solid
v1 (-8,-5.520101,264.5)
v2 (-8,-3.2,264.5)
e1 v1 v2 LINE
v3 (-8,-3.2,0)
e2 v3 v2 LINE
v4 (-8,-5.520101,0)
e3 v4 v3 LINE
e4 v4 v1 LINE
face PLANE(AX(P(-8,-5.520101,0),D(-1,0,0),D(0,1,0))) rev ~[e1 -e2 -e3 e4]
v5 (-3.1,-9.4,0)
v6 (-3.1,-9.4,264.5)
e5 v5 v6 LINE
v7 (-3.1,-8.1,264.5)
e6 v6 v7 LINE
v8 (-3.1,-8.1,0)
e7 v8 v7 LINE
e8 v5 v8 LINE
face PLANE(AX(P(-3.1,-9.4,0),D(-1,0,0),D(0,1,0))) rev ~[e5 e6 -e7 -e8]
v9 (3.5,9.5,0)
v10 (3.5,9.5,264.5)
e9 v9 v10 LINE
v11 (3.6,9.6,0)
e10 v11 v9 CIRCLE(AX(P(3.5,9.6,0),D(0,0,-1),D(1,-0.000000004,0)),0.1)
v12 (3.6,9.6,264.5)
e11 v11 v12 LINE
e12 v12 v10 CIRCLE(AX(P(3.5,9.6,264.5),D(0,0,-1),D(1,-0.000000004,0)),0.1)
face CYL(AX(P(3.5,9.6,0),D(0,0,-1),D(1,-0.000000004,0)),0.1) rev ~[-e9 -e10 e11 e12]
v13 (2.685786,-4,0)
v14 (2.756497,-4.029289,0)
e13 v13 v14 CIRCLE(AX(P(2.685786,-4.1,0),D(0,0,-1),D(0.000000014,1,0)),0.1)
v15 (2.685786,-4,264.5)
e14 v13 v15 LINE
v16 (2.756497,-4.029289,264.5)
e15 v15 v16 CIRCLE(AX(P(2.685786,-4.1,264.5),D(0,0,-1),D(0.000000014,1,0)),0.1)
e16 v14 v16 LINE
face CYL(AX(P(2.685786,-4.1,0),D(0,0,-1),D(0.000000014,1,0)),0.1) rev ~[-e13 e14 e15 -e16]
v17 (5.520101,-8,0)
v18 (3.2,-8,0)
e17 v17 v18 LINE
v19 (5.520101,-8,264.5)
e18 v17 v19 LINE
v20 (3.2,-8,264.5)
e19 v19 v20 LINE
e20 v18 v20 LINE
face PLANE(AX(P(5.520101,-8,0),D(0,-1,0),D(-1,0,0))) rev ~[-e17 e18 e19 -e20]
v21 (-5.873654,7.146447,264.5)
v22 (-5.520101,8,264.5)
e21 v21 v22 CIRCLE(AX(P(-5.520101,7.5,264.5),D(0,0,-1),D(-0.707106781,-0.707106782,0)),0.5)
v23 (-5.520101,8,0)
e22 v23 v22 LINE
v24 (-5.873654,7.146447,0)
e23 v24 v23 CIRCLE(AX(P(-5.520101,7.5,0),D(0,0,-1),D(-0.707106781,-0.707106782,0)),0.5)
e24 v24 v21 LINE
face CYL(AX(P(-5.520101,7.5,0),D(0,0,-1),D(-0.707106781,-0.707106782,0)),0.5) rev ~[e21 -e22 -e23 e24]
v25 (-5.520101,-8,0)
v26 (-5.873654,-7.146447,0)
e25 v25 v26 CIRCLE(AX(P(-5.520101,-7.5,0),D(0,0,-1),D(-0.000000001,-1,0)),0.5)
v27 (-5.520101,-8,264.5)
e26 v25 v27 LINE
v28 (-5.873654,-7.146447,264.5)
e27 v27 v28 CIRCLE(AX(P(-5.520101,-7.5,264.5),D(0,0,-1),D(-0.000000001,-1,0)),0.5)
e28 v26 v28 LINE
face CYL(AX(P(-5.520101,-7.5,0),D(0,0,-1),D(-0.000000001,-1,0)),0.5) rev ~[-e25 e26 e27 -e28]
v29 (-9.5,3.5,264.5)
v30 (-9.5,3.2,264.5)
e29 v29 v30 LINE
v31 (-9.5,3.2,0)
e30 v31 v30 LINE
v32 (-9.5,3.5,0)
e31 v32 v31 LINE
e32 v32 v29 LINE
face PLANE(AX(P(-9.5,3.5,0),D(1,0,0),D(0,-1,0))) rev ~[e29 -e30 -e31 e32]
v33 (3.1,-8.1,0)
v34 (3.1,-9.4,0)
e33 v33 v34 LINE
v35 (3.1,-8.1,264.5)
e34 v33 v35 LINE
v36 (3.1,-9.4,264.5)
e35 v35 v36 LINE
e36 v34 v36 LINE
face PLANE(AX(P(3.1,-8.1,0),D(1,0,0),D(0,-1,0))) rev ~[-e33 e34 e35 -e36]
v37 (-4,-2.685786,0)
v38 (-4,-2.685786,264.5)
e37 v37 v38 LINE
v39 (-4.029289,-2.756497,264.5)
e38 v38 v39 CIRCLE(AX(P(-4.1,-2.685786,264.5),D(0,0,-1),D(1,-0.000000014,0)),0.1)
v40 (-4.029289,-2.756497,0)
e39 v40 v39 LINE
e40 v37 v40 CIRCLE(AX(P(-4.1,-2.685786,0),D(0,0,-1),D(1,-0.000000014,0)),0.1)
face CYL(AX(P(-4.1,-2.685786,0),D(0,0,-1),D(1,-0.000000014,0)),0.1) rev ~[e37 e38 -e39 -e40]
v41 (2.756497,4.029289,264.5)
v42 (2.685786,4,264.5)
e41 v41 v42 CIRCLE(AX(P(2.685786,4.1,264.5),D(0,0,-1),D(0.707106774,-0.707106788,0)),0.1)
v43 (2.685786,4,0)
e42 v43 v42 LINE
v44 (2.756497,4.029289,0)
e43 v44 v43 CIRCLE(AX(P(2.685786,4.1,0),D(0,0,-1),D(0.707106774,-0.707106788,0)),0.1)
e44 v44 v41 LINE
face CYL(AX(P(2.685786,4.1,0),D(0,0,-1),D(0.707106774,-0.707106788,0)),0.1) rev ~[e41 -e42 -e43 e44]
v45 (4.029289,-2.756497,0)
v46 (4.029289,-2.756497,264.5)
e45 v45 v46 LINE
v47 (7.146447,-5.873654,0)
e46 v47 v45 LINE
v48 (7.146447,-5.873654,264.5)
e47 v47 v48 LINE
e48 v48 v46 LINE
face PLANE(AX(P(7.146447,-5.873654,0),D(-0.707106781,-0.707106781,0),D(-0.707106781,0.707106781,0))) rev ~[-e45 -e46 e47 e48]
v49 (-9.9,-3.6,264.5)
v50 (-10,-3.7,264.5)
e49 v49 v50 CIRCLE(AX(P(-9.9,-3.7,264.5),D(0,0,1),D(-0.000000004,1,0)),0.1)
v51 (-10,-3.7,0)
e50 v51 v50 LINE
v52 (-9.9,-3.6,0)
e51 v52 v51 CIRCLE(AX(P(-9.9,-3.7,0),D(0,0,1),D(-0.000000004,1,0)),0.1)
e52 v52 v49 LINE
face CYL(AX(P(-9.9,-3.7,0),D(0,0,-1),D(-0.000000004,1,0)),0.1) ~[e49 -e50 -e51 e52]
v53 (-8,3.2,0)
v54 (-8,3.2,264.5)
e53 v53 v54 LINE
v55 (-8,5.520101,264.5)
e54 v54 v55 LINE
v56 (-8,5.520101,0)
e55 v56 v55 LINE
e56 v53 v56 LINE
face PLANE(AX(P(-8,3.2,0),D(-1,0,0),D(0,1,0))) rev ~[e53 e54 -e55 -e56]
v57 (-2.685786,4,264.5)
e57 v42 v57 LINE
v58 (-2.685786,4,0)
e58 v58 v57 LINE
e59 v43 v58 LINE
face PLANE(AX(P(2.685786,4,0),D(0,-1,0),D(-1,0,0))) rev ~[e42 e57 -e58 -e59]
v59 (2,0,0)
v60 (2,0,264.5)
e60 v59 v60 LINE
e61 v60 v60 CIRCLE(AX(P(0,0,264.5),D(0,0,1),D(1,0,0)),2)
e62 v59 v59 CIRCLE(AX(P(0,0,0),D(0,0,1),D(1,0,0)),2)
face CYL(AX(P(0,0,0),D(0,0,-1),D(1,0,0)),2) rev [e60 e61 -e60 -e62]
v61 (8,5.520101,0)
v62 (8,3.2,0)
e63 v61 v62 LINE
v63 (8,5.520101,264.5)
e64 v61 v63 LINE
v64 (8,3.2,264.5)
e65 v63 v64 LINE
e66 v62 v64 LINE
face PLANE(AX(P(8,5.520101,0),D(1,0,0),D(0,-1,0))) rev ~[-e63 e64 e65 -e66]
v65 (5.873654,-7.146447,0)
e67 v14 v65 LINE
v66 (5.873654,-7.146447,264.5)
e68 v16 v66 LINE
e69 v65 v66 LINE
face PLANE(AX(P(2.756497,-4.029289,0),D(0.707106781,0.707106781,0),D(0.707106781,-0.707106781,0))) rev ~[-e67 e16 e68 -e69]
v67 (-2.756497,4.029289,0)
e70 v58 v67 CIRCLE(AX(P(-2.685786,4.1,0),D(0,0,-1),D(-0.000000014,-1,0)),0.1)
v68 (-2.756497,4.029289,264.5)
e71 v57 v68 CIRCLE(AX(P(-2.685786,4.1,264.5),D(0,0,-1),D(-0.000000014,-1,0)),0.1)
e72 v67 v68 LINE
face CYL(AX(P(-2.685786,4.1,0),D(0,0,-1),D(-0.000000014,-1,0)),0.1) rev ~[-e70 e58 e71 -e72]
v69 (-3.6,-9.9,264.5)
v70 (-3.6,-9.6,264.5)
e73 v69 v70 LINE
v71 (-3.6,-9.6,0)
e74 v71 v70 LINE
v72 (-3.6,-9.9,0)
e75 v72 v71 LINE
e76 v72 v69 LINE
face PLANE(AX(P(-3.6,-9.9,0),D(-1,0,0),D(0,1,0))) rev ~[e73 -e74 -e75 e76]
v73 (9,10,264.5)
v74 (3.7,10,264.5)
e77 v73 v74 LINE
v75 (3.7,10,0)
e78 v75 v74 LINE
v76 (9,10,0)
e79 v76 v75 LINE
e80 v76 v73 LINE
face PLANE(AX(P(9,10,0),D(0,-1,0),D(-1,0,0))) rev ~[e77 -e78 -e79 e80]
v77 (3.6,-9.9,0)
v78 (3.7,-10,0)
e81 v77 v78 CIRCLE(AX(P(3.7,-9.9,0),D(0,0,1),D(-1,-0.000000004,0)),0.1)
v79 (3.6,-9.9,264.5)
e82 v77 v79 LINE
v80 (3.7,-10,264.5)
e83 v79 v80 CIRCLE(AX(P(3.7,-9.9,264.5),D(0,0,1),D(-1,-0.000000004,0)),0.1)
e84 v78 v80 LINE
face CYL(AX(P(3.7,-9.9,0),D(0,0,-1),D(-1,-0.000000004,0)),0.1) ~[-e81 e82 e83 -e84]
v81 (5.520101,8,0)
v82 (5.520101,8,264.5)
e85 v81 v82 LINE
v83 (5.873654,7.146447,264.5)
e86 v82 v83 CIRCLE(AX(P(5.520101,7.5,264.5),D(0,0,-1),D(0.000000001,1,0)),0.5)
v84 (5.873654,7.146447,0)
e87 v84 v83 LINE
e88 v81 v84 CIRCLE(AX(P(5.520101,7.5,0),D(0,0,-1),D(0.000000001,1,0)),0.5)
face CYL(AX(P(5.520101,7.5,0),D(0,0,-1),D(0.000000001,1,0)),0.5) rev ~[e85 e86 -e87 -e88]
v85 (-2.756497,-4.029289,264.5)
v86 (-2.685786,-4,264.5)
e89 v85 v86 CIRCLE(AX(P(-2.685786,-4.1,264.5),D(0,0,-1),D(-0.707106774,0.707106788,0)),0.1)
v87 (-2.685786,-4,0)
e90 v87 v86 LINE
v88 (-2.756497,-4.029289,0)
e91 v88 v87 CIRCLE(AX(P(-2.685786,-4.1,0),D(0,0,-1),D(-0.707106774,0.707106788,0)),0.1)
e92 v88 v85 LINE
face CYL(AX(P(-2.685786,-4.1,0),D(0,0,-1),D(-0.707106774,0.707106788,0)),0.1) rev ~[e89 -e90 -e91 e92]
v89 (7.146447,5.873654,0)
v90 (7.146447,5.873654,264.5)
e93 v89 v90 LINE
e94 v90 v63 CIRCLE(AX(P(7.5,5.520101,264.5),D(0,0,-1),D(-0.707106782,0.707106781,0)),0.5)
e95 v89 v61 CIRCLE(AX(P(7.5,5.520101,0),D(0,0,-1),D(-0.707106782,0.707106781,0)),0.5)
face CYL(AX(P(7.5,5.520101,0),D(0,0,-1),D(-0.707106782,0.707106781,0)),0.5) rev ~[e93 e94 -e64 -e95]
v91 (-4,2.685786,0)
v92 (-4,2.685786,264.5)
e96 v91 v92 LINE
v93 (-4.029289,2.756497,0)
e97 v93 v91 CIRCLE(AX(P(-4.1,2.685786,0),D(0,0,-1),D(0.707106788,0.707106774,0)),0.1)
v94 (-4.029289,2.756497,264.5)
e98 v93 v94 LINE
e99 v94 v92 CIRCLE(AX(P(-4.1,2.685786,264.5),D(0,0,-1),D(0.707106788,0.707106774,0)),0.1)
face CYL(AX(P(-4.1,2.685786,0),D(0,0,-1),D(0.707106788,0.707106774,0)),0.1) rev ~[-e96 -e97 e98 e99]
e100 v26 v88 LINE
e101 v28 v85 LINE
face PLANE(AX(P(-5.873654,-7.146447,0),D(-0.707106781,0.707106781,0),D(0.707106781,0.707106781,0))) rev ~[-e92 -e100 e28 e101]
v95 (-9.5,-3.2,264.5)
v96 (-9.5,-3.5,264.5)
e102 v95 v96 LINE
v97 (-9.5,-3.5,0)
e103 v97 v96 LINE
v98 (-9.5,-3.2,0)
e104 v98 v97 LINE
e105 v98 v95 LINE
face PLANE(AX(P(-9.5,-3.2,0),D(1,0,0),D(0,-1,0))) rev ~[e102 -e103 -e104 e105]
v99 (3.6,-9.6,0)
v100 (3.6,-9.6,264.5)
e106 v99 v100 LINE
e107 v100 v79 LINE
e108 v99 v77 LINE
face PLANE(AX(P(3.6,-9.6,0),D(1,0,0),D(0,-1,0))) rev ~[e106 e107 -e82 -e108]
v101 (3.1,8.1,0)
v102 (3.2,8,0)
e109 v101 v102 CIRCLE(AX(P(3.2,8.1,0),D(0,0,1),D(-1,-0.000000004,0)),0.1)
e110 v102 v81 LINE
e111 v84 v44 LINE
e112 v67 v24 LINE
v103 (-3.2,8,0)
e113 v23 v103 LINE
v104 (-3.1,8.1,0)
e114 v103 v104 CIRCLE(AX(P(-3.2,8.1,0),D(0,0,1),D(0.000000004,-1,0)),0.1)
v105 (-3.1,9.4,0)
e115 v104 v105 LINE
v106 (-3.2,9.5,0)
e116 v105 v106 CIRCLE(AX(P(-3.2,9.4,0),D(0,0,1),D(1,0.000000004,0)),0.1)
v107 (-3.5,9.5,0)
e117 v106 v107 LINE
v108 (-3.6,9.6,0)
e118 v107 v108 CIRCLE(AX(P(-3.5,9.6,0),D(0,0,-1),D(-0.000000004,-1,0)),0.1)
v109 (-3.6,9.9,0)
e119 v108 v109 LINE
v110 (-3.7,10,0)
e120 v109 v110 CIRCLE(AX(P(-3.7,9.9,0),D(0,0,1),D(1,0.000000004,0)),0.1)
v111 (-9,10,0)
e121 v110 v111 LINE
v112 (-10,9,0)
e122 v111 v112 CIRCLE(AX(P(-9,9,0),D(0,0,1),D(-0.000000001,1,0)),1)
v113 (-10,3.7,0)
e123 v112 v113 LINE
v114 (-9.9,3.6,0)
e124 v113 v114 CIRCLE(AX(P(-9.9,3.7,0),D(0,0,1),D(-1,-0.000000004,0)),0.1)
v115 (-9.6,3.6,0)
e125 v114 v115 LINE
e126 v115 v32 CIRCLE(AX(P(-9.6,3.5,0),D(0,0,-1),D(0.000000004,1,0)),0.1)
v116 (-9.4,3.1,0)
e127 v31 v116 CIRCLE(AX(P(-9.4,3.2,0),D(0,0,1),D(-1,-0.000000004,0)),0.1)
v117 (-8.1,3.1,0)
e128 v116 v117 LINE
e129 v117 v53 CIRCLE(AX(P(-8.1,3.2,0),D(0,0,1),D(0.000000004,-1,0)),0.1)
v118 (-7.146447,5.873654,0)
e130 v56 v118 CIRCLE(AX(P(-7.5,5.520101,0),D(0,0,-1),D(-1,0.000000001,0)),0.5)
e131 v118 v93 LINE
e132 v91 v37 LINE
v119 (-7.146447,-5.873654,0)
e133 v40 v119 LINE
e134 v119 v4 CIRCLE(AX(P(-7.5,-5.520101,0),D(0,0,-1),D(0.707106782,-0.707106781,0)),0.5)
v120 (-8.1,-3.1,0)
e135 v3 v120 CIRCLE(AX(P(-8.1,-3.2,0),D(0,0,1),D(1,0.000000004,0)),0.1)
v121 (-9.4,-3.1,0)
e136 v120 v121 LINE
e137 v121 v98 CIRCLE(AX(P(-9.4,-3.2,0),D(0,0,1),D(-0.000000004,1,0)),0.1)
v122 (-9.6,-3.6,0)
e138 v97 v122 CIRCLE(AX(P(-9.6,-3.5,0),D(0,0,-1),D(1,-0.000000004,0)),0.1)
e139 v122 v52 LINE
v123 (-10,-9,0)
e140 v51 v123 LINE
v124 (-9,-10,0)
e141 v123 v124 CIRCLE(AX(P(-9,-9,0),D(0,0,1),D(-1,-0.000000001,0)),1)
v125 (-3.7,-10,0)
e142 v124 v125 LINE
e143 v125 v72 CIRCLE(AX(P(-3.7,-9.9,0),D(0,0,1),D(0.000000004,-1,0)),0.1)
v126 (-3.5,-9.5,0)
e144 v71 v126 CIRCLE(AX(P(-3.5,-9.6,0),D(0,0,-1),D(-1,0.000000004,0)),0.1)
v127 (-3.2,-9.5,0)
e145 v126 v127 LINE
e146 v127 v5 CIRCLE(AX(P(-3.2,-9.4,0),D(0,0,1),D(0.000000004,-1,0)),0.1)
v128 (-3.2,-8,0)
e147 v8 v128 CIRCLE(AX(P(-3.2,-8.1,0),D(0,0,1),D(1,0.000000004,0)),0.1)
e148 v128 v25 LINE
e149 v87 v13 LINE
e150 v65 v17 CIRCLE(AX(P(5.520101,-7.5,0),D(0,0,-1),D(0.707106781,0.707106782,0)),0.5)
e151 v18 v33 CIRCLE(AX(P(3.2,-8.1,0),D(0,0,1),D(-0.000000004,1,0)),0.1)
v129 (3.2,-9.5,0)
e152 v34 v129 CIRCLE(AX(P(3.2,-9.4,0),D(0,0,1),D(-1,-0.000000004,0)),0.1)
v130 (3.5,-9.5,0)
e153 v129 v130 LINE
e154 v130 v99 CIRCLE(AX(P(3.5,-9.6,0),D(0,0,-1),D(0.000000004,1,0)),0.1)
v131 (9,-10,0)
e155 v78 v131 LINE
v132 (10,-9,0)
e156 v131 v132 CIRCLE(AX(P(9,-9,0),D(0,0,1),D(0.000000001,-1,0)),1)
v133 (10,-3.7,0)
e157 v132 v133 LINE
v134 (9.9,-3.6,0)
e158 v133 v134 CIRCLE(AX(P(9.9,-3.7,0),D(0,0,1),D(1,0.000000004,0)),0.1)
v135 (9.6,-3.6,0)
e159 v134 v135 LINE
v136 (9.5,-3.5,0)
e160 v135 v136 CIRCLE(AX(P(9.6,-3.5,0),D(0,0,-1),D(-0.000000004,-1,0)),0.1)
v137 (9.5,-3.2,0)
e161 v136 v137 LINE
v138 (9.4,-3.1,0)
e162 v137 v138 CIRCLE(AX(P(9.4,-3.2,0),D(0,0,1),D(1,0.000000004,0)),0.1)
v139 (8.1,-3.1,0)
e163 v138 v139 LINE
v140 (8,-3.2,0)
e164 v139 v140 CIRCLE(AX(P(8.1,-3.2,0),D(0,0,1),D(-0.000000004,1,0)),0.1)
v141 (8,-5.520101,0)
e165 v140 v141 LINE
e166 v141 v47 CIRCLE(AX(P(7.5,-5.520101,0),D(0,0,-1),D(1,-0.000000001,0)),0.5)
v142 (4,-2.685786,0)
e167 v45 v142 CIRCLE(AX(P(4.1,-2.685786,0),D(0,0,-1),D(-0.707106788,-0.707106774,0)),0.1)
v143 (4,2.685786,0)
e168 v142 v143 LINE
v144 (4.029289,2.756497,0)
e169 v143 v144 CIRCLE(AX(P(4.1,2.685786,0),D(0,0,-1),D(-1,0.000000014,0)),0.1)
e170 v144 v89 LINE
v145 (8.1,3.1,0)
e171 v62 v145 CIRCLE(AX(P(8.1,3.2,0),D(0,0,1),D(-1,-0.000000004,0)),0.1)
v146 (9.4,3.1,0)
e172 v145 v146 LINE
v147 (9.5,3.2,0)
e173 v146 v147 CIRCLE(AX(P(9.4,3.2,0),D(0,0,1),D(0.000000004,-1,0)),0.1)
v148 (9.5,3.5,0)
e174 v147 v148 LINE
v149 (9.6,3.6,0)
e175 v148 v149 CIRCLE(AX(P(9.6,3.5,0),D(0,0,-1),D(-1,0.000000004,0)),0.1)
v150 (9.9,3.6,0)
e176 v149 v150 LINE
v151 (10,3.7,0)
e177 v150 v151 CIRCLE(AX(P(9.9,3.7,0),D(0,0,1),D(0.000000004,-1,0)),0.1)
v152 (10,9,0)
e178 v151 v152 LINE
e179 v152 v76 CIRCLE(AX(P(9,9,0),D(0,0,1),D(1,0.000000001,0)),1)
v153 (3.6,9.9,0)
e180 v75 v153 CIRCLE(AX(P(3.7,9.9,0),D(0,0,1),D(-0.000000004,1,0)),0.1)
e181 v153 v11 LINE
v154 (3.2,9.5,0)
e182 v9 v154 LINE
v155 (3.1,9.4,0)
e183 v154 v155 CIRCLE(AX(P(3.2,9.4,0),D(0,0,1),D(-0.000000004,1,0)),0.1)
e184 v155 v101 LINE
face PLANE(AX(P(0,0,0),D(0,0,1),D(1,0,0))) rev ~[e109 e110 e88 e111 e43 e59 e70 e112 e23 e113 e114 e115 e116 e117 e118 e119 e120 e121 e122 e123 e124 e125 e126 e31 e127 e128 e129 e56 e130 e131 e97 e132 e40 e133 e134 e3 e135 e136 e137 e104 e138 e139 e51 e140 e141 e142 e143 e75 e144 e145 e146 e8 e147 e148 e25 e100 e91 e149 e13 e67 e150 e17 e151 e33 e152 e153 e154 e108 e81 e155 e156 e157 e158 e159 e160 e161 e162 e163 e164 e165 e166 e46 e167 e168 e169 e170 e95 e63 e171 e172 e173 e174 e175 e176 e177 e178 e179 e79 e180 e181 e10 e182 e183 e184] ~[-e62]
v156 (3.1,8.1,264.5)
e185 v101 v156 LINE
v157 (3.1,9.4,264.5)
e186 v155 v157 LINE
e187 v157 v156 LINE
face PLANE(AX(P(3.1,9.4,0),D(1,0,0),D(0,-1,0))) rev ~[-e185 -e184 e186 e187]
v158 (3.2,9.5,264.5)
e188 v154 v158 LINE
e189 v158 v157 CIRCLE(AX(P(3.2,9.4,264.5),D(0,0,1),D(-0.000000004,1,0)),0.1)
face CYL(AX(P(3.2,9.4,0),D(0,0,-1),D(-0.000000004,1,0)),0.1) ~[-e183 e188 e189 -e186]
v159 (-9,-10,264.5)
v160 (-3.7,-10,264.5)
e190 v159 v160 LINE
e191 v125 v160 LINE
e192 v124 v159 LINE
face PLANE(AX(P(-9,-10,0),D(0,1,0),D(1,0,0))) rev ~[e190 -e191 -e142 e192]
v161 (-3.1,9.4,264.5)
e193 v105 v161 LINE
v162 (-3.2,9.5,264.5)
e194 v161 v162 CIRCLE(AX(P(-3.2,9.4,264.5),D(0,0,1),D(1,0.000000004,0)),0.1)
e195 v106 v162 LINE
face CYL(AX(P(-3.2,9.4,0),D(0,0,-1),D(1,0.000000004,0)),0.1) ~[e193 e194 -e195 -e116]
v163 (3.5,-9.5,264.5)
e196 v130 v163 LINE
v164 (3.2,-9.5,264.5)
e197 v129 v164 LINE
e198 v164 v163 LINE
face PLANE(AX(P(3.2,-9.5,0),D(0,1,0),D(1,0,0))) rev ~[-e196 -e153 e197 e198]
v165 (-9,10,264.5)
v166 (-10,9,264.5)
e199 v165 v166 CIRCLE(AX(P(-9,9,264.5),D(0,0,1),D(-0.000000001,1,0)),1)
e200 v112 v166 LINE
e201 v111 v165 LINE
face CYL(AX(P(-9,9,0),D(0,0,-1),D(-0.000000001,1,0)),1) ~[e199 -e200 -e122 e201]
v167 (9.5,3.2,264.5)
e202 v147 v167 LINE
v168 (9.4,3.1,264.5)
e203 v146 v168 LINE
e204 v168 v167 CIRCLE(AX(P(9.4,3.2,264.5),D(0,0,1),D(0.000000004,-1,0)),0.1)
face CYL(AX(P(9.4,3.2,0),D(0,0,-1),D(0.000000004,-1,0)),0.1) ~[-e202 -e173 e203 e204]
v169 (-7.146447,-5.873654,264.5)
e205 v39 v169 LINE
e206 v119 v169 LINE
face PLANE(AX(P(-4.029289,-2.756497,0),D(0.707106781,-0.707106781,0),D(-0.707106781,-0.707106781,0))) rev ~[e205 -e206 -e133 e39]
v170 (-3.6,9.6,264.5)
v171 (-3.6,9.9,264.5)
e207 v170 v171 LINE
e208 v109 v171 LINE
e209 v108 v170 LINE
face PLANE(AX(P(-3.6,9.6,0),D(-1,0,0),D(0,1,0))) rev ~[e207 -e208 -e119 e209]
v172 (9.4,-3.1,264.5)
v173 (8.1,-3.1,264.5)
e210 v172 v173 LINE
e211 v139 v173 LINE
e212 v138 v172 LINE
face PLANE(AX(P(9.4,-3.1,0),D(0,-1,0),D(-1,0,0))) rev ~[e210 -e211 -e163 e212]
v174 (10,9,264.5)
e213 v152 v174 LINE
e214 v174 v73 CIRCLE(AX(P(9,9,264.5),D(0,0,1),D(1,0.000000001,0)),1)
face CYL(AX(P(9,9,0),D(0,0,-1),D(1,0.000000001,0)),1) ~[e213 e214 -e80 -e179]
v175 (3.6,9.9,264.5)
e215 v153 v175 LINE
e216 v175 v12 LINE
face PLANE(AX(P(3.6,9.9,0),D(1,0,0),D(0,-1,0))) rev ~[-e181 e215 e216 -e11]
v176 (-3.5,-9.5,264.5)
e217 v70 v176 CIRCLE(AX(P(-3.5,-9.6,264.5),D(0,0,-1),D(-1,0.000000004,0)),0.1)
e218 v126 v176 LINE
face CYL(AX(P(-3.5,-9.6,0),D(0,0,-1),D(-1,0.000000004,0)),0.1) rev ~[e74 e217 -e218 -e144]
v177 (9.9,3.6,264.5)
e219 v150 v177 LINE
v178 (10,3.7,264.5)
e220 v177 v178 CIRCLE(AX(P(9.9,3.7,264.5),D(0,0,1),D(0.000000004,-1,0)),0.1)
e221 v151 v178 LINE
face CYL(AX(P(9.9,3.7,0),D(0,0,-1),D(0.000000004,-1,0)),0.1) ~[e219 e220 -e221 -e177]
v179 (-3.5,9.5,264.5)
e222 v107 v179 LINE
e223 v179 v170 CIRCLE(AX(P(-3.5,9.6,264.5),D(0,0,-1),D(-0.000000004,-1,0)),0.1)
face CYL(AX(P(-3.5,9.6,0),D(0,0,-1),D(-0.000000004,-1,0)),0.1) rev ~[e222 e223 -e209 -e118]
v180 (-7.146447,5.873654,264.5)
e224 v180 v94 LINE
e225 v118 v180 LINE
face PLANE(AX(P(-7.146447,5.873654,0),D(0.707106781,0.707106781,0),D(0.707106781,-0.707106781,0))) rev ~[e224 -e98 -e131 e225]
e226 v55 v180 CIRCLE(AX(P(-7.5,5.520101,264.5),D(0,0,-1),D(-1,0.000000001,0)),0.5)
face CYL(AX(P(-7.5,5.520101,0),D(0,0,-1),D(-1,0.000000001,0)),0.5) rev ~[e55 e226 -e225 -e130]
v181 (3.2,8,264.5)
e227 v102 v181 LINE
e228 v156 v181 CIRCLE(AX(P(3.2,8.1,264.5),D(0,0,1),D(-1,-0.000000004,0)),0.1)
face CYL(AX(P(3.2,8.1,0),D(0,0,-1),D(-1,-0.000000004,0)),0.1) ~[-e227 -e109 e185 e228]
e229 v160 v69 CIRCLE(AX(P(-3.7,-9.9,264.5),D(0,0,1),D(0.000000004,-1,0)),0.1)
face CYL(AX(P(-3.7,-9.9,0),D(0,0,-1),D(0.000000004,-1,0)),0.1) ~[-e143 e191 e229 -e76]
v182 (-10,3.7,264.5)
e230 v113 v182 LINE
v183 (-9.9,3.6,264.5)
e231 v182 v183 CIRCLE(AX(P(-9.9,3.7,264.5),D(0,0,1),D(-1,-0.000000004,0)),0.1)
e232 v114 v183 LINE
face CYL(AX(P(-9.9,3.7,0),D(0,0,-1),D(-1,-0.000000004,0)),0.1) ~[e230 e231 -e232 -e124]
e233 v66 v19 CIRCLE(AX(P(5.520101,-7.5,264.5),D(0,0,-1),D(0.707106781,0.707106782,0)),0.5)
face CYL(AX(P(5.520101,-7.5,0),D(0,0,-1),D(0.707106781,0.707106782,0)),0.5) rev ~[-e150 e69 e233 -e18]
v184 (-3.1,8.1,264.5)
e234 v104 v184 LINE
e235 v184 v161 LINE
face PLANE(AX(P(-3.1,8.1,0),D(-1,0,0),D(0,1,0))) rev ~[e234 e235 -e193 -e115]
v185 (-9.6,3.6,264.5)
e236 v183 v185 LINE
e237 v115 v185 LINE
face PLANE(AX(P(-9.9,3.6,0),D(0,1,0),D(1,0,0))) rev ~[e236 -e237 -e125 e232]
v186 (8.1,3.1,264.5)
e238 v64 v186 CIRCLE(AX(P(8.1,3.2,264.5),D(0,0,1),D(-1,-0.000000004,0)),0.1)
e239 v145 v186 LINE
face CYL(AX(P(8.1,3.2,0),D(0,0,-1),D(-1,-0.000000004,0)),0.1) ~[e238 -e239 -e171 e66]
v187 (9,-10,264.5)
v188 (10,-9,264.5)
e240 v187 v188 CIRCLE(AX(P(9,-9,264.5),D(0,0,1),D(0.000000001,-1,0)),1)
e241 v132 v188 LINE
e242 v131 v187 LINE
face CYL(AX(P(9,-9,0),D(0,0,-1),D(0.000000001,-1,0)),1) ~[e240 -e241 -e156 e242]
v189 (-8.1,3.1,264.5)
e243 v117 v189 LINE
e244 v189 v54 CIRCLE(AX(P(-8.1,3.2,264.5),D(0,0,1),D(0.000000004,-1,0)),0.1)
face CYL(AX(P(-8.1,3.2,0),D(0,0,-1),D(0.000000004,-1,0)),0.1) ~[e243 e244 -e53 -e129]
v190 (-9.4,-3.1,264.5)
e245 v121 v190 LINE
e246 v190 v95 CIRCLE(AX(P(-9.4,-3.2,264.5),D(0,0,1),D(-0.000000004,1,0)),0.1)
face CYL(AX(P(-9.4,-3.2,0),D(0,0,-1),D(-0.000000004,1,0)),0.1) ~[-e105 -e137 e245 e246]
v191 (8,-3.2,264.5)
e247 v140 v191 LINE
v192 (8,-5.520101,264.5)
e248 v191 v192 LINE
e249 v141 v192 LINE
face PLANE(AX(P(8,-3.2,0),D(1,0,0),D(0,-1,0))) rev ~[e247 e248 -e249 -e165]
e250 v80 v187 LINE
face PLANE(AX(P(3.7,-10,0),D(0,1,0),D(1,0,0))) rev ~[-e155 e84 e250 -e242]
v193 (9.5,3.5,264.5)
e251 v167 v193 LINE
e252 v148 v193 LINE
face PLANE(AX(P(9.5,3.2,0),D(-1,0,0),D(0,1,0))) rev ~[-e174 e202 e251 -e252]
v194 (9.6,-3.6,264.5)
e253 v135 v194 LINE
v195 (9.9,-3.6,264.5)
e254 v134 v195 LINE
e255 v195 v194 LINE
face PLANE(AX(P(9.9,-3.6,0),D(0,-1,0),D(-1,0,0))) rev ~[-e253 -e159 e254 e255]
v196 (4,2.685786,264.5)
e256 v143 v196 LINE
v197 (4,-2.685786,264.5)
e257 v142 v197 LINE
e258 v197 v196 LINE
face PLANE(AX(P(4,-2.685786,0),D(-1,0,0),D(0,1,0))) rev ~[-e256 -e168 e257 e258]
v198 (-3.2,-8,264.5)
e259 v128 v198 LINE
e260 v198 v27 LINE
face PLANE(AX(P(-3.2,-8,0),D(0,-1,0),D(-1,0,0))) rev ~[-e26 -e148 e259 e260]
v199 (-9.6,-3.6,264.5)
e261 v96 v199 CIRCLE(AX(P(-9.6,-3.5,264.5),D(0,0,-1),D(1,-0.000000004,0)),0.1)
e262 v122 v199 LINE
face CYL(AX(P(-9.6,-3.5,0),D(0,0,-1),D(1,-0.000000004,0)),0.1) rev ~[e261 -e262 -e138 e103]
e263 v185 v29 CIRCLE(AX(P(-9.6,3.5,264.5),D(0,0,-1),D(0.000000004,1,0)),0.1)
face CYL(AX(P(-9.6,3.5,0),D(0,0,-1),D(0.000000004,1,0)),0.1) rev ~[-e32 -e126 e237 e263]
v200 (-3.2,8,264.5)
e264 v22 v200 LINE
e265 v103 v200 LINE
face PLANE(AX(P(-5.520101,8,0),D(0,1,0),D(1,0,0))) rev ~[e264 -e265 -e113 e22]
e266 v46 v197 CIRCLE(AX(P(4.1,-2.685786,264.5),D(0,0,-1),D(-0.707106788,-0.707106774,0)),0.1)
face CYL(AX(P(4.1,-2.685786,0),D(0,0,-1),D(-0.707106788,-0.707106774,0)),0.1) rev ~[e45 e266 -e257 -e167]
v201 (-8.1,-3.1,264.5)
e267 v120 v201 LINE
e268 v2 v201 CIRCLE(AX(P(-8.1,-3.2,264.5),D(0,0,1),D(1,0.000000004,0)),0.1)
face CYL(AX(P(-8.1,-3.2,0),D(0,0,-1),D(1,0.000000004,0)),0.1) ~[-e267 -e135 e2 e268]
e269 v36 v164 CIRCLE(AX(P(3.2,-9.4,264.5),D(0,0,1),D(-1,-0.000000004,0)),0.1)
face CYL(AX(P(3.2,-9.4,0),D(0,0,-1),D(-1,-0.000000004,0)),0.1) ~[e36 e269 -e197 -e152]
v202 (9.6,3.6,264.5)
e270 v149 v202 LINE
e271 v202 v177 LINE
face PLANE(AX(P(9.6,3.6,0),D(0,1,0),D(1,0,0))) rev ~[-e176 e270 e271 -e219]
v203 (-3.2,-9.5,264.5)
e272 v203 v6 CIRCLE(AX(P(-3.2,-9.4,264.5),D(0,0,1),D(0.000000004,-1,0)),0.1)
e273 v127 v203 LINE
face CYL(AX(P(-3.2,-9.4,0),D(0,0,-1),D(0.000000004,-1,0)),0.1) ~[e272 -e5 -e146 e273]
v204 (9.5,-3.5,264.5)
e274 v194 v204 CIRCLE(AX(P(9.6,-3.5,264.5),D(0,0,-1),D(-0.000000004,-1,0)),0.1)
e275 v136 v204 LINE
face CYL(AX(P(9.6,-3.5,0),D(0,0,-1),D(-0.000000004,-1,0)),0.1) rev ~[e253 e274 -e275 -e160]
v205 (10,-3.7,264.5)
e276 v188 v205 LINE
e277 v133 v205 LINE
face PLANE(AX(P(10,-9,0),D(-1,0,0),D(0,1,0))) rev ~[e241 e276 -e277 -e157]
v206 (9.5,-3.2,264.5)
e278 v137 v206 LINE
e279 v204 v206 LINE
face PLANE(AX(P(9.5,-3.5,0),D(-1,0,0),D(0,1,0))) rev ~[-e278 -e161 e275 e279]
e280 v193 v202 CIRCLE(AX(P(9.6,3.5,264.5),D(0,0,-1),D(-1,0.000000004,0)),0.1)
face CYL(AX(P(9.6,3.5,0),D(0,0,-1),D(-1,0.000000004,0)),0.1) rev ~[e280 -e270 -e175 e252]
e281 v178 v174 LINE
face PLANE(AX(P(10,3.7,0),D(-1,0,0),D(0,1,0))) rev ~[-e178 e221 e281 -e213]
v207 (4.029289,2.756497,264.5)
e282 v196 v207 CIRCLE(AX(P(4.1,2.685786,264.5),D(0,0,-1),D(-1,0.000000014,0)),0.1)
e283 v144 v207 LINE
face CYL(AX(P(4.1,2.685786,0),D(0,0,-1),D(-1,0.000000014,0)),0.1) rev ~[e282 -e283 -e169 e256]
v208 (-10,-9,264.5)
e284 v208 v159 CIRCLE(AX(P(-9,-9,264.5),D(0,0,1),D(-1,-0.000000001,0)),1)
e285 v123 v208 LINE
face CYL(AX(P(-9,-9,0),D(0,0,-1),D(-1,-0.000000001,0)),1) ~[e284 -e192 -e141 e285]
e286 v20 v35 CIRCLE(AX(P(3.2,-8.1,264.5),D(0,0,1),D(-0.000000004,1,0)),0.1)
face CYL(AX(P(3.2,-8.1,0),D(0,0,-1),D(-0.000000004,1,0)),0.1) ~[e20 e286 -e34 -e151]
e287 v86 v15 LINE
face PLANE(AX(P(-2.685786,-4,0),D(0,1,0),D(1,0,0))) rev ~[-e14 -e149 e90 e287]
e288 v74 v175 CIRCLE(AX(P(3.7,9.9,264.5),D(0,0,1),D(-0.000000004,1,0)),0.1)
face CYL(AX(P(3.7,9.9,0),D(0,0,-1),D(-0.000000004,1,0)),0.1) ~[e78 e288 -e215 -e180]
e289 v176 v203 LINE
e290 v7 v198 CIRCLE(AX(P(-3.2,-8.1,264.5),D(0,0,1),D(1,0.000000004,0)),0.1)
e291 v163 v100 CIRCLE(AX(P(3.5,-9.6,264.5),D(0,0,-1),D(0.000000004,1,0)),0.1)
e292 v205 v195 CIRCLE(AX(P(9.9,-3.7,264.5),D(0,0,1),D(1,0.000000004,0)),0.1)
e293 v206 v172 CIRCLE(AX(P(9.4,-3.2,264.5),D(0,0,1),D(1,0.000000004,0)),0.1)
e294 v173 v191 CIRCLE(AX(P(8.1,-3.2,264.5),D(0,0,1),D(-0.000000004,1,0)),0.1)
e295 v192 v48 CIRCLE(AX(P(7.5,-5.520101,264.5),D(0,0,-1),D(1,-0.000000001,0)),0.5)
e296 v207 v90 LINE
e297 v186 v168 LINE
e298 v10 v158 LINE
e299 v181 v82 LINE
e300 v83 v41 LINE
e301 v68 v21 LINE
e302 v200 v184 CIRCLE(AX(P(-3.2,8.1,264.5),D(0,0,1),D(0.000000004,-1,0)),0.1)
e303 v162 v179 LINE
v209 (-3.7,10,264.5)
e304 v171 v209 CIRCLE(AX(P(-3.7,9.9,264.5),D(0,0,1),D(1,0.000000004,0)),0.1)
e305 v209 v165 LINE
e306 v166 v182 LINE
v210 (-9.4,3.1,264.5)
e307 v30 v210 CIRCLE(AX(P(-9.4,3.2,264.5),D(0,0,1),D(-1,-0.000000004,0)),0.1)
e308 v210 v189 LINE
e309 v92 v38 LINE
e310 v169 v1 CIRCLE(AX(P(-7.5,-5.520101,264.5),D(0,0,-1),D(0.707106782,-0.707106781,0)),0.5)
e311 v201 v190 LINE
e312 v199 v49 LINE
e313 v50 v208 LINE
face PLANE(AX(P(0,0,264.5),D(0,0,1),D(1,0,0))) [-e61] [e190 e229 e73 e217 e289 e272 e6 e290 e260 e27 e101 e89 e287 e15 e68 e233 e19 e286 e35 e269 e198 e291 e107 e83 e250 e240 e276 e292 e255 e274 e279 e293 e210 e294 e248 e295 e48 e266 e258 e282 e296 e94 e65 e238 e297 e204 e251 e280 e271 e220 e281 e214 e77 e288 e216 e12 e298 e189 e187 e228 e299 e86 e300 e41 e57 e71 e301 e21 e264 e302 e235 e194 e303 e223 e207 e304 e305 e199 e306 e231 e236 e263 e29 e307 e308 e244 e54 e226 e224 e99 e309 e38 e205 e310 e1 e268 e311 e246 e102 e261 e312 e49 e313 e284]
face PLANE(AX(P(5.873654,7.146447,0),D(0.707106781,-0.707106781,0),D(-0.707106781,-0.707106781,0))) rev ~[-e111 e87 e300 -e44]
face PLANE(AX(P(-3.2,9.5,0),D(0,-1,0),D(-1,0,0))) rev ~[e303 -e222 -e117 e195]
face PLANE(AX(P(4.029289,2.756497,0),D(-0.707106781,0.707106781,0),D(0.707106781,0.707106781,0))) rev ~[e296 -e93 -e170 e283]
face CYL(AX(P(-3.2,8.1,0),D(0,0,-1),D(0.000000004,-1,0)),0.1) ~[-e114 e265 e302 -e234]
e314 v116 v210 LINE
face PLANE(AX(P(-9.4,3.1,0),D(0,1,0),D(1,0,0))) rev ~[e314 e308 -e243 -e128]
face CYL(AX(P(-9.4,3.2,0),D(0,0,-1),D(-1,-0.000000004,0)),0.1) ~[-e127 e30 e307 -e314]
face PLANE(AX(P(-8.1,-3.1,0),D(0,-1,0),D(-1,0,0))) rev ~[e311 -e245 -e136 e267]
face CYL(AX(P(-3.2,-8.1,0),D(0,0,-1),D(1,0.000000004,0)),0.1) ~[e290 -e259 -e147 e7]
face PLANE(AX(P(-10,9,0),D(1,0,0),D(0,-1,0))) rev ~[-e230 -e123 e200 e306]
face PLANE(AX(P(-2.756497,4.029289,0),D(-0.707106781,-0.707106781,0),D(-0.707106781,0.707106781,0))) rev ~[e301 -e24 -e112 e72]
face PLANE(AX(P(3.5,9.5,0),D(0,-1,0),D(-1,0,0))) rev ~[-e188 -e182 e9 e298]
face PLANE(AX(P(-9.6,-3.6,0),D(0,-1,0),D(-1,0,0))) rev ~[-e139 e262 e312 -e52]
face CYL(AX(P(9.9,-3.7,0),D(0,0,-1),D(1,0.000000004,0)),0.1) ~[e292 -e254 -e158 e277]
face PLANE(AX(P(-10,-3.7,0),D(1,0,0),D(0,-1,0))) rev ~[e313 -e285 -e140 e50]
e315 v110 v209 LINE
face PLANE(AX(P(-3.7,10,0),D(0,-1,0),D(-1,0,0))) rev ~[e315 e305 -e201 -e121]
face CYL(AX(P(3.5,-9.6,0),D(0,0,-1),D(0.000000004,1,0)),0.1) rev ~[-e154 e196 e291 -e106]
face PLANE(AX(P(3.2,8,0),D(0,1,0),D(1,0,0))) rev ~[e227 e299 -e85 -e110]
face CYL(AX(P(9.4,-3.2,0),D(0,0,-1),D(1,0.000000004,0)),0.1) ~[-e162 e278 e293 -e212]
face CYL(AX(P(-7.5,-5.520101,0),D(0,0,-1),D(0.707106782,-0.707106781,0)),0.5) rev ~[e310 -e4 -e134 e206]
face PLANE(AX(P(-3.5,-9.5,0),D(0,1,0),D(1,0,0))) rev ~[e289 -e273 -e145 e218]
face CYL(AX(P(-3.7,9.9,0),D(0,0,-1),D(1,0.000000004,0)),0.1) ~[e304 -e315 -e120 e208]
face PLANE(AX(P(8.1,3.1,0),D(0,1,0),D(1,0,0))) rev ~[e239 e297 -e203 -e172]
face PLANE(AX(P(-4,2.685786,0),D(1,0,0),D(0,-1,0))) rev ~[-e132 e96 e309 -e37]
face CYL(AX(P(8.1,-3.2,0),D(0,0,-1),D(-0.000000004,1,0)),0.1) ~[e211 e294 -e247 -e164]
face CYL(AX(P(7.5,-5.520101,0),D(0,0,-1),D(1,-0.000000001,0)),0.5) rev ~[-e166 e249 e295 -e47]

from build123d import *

# Parameters (mm, degrees)
SKETCH1_R           = 2
BOSS_EXTRUDE1_DEPTH = 264.5


with BuildPart() as part:
    # Sketch1 → Boss-Extrude1 (new body)
    with BuildSketch(Plane.XY):
        with BuildLine():
            Line((-10, 9), (-10, 3.7))
            ThreePointArc((-10, 3.7), (-9.970710678, 3.629289322), (-9.9, 3.6))
            Line((-9.9, 3.6), (-9.6, 3.6))
            ThreePointArc((-9.6, 3.6), (-9.529289322, 3.570710678), (-9.5, 3.5))
            Line((-9.5, 3.5), (-9.5, 3.2))
            ThreePointArc((-9.5, 3.2), (-9.470710678, 3.129289322), (-9.4, 3.1))
            Line((-9.4, 3.1), (-8.1, 3.1))
            ThreePointArc((-8.1, 3.1), (-8.029289322, 3.129289322), (-8, 3.2))
            Line((-8, 3.2), (-8, 5.520101013))
            ThreePointArc((-8, 5.520101013), (-7.691341716, 5.982040779), (-7.146446609, 5.873654403))
            Line((-7.146446609, 5.873654403), (-4.029289322, 2.756497116))
            ThreePointArc((-4.029289322, 2.756497116), (-4.007612047, 2.724054781), (-4, 2.685786438))
            Line((-4, 2.685786438), (-4, 0))
            Line((-4, 0), (-4, -2.685786438))
            ThreePointArc((-4, -2.685786438), (-4.007612047, -2.724054781), (-4.029289322, -2.756497116))
            Line((-4.029289322, -2.756497116), (-7.146446609, -5.873654403))
            ThreePointArc((-7.146446609, -5.873654403), (-7.691341716, -5.982040779), (-8, -5.520101013))
            Line((-8, -5.520101013), (-8, -3.2))
            ThreePointArc((-8, -3.2), (-8.029289322, -3.129289322), (-8.1, -3.1))
            Line((-8.1, -3.1), (-9.4, -3.1))
            ThreePointArc((-9.4, -3.1), (-9.470710678, -3.129289322), (-9.5, -3.2))
            Line((-9.5, -3.2), (-9.5, -3.5))
            ThreePointArc((-9.5, -3.5), (-9.529289322, -3.570710678), (-9.6, -3.6))
            Line((-9.6, -3.6), (-9.9, -3.6))
            ThreePointArc((-9.9, -3.6), (-9.970710678, -3.629289322), (-10, -3.7))
            Line((-10, -3.7), (-10, -9))
            ThreePointArc((-10, -9), (-9.707106781, -9.707106781), (-9, -10))
            Line((-9, -10), (-3.7, -10))
            ThreePointArc((-3.7, -10), (-3.629289322, -9.970710678), (-3.6, -9.9))
            Line((-3.6, -9.9), (-3.6, -9.6))
            ThreePointArc((-3.6, -9.6), (-3.570710678, -9.529289322), (-3.5, -9.5))
            Line((-3.5, -9.5), (-3.2, -9.5))
            ThreePointArc((-3.2, -9.5), (-3.129289322, -9.470710678), (-3.1, -9.4))
            Line((-3.1, -9.4), (-3.1, -8.1))
            ThreePointArc((-3.1, -8.1), (-3.129289322, -8.029289322), (-3.2, -8))
            Line((-3.2, -8), (-5.520101013, -8))
            ThreePointArc((-5.520101013, -8), (-5.982040779, -7.691341716), (-5.873654403, -7.146446609))
            Line((-5.873654403, -7.146446609), (-2.756497116, -4.029289322))
            ThreePointArc((-2.756497116, -4.029289322), (-2.724054781, -4.007612047), (-2.685786438, -4))
            Line((-2.685786438, -4), (2.685786438, -4))
            ThreePointArc((2.685786438, -4), (2.724054781, -4.007612047), (2.756497116, -4.029289322))
            Line((2.756497116, -4.029289322), (5.873654403, -7.146446609))
            ThreePointArc((5.873654403, -7.146446609), (5.982040779, -7.691341716), (5.520101013, -8))
            Line((5.520101013, -8), (3.2, -8))
            ThreePointArc((3.2, -8), (3.129289322, -8.029289322), (3.1, -8.1))
            Line((3.1, -8.1), (3.1, -9.4))
            ThreePointArc((3.1, -9.4), (3.129289322, -9.470710678), (3.2, -9.5))
            Line((3.2, -9.5), (3.5, -9.5))
            ThreePointArc((3.5, -9.5), (3.570710678, -9.529289322), (3.6, -9.6))
            Line((3.6, -9.6), (3.6, -9.9))
            ThreePointArc((3.6, -9.9), (3.629289322, -9.970710678), (3.7, -10))
            Line((3.7, -10), (9, -10))
            ThreePointArc((9, -10), (9.707106781, -9.707106781), (10, -9))
            Line((10, -9), (10, -3.7))
            ThreePointArc((10, -3.7), (9.970710678, -3.629289322), (9.9, -3.6))
            Line((9.9, -3.6), (9.6, -3.6))
            ThreePointArc((9.6, -3.6), (9.529289322, -3.570710678), (9.5, -3.5))
            Line((9.5, -3.5), (9.5, -3.2))
            ThreePointArc((9.5, -3.2), (9.470710678, -3.129289322), (9.4, -3.1))
            Line((9.4, -3.1), (8.1, -3.1))
            ThreePointArc((8.1, -3.1), (8.029289322, -3.129289322), (8, -3.2))
            Line((8, -3.2), (8, -5.520101013))
            ThreePointArc((8, -5.520101013), (7.691341716, -5.982040779), (7.146446609, -5.873654403))
            Line((7.146446609, -5.873654403), (4.029289322, -2.756497116))
            ThreePointArc((4.029289322, -2.756497116), (4.007612047, -2.724054781), (4, -2.685786438))
            Line((4, -2.685786438), (4, 0))
            Line((4, 0), (4, 2.685786438))
            ThreePointArc((4, 2.685786438), (4.007612047, 2.724054781), (4.029289322, 2.756497116))
            Line((4.029289322, 2.756497116), (7.146446609, 5.873654403))
            ThreePointArc((7.146446609, 5.873654403), (7.691341716, 5.982040779), (8, 5.520101013))
            Line((8, 5.520101013), (8, 3.2))
            ThreePointArc((8, 3.2), (8.029289322, 3.129289322), (8.1, 3.1))
            Line((8.1, 3.1), (9.4, 3.1))
            ThreePointArc((9.4, 3.1), (9.470710678, 3.129289322), (9.5, 3.2))
            Line((9.5, 3.2), (9.5, 3.5))
            ThreePointArc((9.5, 3.5), (9.529289322, 3.570710678), (9.6, 3.6))
            Line((9.6, 3.6), (9.9, 3.6))
            ThreePointArc((9.9, 3.6), (9.970710678, 3.629289322), (10, 3.7))
            Line((10, 3.7), (10, 9))
            ThreePointArc((10, 9), (9.707106781, 9.707106781), (9, 10))
            Line((9, 10), (3.7, 10))
            ThreePointArc((3.7, 10), (3.629289322, 9.970710678), (3.6, 9.9))
            Line((3.6, 9.9), (3.6, 9.6))
            ThreePointArc((3.6, 9.6), (3.570710678, 9.529289322), (3.5, 9.5))
            Line((3.5, 9.5), (3.2, 9.5))
            ThreePointArc((3.2, 9.5), (3.129289322, 9.470710678), (3.1, 9.4))
            Line((3.1, 9.4), (3.1, 8.1))
            ThreePointArc((3.1, 8.1), (3.129289322, 8.029289322), (3.2, 8))
            Line((3.2, 8), (5.520101013, 8))
            ThreePointArc((5.520101013, 8), (5.982040779, 7.691341716), (5.873654403, 7.146446609))
            Line((5.873654403, 7.146446609), (2.756497116, 4.029289322))
            ThreePointArc((2.756497116, 4.029289322), (2.724054781, 4.007612047), (2.685786438, 4))
            Line((2.685786438, 4), (-2.685786438, 4))
            ThreePointArc((-2.685786438, 4), (-2.724054781, 4.007612047), (-2.756497116, 4.029289322))
            Line((-2.756497116, 4.029289322), (-5.873654403, 7.146446609))
            ThreePointArc((-5.873654403, 7.146446609), (-5.982040779, 7.691341716), (-5.520101013, 8))
            Line((-5.520101013, 8), (-3.2, 8))
            ThreePointArc((-3.2, 8), (-3.129289322, 8.029289322), (-3.1, 8.1))
            Line((-3.1, 8.1), (-3.1, 9.4))
            ThreePointArc((-3.1, 9.4), (-3.129289322, 9.470710678), (-3.2, 9.5))
            Line((-3.2, 9.5), (-3.5, 9.5))
            ThreePointArc((-3.5, 9.5), (-3.570710678, 9.529289322), (-3.6, 9.6))
            Line((-3.6, 9.6), (-3.6, 9.9))
            ThreePointArc((-3.6, 9.9), (-3.629289322, 9.970710678), (-3.7, 10))
            Line((-3.7, 10), (-9, 10))
            ThreePointArc((-9, 10), (-9.707106781, 9.707106781), (-10, 9))
        make_face()
        Circle(SKETCH1_R, mode=Mode.SUBTRACT)
    extrude(amount=BOSS_EXTRUDE1_DEPTH)


solid = part.part
